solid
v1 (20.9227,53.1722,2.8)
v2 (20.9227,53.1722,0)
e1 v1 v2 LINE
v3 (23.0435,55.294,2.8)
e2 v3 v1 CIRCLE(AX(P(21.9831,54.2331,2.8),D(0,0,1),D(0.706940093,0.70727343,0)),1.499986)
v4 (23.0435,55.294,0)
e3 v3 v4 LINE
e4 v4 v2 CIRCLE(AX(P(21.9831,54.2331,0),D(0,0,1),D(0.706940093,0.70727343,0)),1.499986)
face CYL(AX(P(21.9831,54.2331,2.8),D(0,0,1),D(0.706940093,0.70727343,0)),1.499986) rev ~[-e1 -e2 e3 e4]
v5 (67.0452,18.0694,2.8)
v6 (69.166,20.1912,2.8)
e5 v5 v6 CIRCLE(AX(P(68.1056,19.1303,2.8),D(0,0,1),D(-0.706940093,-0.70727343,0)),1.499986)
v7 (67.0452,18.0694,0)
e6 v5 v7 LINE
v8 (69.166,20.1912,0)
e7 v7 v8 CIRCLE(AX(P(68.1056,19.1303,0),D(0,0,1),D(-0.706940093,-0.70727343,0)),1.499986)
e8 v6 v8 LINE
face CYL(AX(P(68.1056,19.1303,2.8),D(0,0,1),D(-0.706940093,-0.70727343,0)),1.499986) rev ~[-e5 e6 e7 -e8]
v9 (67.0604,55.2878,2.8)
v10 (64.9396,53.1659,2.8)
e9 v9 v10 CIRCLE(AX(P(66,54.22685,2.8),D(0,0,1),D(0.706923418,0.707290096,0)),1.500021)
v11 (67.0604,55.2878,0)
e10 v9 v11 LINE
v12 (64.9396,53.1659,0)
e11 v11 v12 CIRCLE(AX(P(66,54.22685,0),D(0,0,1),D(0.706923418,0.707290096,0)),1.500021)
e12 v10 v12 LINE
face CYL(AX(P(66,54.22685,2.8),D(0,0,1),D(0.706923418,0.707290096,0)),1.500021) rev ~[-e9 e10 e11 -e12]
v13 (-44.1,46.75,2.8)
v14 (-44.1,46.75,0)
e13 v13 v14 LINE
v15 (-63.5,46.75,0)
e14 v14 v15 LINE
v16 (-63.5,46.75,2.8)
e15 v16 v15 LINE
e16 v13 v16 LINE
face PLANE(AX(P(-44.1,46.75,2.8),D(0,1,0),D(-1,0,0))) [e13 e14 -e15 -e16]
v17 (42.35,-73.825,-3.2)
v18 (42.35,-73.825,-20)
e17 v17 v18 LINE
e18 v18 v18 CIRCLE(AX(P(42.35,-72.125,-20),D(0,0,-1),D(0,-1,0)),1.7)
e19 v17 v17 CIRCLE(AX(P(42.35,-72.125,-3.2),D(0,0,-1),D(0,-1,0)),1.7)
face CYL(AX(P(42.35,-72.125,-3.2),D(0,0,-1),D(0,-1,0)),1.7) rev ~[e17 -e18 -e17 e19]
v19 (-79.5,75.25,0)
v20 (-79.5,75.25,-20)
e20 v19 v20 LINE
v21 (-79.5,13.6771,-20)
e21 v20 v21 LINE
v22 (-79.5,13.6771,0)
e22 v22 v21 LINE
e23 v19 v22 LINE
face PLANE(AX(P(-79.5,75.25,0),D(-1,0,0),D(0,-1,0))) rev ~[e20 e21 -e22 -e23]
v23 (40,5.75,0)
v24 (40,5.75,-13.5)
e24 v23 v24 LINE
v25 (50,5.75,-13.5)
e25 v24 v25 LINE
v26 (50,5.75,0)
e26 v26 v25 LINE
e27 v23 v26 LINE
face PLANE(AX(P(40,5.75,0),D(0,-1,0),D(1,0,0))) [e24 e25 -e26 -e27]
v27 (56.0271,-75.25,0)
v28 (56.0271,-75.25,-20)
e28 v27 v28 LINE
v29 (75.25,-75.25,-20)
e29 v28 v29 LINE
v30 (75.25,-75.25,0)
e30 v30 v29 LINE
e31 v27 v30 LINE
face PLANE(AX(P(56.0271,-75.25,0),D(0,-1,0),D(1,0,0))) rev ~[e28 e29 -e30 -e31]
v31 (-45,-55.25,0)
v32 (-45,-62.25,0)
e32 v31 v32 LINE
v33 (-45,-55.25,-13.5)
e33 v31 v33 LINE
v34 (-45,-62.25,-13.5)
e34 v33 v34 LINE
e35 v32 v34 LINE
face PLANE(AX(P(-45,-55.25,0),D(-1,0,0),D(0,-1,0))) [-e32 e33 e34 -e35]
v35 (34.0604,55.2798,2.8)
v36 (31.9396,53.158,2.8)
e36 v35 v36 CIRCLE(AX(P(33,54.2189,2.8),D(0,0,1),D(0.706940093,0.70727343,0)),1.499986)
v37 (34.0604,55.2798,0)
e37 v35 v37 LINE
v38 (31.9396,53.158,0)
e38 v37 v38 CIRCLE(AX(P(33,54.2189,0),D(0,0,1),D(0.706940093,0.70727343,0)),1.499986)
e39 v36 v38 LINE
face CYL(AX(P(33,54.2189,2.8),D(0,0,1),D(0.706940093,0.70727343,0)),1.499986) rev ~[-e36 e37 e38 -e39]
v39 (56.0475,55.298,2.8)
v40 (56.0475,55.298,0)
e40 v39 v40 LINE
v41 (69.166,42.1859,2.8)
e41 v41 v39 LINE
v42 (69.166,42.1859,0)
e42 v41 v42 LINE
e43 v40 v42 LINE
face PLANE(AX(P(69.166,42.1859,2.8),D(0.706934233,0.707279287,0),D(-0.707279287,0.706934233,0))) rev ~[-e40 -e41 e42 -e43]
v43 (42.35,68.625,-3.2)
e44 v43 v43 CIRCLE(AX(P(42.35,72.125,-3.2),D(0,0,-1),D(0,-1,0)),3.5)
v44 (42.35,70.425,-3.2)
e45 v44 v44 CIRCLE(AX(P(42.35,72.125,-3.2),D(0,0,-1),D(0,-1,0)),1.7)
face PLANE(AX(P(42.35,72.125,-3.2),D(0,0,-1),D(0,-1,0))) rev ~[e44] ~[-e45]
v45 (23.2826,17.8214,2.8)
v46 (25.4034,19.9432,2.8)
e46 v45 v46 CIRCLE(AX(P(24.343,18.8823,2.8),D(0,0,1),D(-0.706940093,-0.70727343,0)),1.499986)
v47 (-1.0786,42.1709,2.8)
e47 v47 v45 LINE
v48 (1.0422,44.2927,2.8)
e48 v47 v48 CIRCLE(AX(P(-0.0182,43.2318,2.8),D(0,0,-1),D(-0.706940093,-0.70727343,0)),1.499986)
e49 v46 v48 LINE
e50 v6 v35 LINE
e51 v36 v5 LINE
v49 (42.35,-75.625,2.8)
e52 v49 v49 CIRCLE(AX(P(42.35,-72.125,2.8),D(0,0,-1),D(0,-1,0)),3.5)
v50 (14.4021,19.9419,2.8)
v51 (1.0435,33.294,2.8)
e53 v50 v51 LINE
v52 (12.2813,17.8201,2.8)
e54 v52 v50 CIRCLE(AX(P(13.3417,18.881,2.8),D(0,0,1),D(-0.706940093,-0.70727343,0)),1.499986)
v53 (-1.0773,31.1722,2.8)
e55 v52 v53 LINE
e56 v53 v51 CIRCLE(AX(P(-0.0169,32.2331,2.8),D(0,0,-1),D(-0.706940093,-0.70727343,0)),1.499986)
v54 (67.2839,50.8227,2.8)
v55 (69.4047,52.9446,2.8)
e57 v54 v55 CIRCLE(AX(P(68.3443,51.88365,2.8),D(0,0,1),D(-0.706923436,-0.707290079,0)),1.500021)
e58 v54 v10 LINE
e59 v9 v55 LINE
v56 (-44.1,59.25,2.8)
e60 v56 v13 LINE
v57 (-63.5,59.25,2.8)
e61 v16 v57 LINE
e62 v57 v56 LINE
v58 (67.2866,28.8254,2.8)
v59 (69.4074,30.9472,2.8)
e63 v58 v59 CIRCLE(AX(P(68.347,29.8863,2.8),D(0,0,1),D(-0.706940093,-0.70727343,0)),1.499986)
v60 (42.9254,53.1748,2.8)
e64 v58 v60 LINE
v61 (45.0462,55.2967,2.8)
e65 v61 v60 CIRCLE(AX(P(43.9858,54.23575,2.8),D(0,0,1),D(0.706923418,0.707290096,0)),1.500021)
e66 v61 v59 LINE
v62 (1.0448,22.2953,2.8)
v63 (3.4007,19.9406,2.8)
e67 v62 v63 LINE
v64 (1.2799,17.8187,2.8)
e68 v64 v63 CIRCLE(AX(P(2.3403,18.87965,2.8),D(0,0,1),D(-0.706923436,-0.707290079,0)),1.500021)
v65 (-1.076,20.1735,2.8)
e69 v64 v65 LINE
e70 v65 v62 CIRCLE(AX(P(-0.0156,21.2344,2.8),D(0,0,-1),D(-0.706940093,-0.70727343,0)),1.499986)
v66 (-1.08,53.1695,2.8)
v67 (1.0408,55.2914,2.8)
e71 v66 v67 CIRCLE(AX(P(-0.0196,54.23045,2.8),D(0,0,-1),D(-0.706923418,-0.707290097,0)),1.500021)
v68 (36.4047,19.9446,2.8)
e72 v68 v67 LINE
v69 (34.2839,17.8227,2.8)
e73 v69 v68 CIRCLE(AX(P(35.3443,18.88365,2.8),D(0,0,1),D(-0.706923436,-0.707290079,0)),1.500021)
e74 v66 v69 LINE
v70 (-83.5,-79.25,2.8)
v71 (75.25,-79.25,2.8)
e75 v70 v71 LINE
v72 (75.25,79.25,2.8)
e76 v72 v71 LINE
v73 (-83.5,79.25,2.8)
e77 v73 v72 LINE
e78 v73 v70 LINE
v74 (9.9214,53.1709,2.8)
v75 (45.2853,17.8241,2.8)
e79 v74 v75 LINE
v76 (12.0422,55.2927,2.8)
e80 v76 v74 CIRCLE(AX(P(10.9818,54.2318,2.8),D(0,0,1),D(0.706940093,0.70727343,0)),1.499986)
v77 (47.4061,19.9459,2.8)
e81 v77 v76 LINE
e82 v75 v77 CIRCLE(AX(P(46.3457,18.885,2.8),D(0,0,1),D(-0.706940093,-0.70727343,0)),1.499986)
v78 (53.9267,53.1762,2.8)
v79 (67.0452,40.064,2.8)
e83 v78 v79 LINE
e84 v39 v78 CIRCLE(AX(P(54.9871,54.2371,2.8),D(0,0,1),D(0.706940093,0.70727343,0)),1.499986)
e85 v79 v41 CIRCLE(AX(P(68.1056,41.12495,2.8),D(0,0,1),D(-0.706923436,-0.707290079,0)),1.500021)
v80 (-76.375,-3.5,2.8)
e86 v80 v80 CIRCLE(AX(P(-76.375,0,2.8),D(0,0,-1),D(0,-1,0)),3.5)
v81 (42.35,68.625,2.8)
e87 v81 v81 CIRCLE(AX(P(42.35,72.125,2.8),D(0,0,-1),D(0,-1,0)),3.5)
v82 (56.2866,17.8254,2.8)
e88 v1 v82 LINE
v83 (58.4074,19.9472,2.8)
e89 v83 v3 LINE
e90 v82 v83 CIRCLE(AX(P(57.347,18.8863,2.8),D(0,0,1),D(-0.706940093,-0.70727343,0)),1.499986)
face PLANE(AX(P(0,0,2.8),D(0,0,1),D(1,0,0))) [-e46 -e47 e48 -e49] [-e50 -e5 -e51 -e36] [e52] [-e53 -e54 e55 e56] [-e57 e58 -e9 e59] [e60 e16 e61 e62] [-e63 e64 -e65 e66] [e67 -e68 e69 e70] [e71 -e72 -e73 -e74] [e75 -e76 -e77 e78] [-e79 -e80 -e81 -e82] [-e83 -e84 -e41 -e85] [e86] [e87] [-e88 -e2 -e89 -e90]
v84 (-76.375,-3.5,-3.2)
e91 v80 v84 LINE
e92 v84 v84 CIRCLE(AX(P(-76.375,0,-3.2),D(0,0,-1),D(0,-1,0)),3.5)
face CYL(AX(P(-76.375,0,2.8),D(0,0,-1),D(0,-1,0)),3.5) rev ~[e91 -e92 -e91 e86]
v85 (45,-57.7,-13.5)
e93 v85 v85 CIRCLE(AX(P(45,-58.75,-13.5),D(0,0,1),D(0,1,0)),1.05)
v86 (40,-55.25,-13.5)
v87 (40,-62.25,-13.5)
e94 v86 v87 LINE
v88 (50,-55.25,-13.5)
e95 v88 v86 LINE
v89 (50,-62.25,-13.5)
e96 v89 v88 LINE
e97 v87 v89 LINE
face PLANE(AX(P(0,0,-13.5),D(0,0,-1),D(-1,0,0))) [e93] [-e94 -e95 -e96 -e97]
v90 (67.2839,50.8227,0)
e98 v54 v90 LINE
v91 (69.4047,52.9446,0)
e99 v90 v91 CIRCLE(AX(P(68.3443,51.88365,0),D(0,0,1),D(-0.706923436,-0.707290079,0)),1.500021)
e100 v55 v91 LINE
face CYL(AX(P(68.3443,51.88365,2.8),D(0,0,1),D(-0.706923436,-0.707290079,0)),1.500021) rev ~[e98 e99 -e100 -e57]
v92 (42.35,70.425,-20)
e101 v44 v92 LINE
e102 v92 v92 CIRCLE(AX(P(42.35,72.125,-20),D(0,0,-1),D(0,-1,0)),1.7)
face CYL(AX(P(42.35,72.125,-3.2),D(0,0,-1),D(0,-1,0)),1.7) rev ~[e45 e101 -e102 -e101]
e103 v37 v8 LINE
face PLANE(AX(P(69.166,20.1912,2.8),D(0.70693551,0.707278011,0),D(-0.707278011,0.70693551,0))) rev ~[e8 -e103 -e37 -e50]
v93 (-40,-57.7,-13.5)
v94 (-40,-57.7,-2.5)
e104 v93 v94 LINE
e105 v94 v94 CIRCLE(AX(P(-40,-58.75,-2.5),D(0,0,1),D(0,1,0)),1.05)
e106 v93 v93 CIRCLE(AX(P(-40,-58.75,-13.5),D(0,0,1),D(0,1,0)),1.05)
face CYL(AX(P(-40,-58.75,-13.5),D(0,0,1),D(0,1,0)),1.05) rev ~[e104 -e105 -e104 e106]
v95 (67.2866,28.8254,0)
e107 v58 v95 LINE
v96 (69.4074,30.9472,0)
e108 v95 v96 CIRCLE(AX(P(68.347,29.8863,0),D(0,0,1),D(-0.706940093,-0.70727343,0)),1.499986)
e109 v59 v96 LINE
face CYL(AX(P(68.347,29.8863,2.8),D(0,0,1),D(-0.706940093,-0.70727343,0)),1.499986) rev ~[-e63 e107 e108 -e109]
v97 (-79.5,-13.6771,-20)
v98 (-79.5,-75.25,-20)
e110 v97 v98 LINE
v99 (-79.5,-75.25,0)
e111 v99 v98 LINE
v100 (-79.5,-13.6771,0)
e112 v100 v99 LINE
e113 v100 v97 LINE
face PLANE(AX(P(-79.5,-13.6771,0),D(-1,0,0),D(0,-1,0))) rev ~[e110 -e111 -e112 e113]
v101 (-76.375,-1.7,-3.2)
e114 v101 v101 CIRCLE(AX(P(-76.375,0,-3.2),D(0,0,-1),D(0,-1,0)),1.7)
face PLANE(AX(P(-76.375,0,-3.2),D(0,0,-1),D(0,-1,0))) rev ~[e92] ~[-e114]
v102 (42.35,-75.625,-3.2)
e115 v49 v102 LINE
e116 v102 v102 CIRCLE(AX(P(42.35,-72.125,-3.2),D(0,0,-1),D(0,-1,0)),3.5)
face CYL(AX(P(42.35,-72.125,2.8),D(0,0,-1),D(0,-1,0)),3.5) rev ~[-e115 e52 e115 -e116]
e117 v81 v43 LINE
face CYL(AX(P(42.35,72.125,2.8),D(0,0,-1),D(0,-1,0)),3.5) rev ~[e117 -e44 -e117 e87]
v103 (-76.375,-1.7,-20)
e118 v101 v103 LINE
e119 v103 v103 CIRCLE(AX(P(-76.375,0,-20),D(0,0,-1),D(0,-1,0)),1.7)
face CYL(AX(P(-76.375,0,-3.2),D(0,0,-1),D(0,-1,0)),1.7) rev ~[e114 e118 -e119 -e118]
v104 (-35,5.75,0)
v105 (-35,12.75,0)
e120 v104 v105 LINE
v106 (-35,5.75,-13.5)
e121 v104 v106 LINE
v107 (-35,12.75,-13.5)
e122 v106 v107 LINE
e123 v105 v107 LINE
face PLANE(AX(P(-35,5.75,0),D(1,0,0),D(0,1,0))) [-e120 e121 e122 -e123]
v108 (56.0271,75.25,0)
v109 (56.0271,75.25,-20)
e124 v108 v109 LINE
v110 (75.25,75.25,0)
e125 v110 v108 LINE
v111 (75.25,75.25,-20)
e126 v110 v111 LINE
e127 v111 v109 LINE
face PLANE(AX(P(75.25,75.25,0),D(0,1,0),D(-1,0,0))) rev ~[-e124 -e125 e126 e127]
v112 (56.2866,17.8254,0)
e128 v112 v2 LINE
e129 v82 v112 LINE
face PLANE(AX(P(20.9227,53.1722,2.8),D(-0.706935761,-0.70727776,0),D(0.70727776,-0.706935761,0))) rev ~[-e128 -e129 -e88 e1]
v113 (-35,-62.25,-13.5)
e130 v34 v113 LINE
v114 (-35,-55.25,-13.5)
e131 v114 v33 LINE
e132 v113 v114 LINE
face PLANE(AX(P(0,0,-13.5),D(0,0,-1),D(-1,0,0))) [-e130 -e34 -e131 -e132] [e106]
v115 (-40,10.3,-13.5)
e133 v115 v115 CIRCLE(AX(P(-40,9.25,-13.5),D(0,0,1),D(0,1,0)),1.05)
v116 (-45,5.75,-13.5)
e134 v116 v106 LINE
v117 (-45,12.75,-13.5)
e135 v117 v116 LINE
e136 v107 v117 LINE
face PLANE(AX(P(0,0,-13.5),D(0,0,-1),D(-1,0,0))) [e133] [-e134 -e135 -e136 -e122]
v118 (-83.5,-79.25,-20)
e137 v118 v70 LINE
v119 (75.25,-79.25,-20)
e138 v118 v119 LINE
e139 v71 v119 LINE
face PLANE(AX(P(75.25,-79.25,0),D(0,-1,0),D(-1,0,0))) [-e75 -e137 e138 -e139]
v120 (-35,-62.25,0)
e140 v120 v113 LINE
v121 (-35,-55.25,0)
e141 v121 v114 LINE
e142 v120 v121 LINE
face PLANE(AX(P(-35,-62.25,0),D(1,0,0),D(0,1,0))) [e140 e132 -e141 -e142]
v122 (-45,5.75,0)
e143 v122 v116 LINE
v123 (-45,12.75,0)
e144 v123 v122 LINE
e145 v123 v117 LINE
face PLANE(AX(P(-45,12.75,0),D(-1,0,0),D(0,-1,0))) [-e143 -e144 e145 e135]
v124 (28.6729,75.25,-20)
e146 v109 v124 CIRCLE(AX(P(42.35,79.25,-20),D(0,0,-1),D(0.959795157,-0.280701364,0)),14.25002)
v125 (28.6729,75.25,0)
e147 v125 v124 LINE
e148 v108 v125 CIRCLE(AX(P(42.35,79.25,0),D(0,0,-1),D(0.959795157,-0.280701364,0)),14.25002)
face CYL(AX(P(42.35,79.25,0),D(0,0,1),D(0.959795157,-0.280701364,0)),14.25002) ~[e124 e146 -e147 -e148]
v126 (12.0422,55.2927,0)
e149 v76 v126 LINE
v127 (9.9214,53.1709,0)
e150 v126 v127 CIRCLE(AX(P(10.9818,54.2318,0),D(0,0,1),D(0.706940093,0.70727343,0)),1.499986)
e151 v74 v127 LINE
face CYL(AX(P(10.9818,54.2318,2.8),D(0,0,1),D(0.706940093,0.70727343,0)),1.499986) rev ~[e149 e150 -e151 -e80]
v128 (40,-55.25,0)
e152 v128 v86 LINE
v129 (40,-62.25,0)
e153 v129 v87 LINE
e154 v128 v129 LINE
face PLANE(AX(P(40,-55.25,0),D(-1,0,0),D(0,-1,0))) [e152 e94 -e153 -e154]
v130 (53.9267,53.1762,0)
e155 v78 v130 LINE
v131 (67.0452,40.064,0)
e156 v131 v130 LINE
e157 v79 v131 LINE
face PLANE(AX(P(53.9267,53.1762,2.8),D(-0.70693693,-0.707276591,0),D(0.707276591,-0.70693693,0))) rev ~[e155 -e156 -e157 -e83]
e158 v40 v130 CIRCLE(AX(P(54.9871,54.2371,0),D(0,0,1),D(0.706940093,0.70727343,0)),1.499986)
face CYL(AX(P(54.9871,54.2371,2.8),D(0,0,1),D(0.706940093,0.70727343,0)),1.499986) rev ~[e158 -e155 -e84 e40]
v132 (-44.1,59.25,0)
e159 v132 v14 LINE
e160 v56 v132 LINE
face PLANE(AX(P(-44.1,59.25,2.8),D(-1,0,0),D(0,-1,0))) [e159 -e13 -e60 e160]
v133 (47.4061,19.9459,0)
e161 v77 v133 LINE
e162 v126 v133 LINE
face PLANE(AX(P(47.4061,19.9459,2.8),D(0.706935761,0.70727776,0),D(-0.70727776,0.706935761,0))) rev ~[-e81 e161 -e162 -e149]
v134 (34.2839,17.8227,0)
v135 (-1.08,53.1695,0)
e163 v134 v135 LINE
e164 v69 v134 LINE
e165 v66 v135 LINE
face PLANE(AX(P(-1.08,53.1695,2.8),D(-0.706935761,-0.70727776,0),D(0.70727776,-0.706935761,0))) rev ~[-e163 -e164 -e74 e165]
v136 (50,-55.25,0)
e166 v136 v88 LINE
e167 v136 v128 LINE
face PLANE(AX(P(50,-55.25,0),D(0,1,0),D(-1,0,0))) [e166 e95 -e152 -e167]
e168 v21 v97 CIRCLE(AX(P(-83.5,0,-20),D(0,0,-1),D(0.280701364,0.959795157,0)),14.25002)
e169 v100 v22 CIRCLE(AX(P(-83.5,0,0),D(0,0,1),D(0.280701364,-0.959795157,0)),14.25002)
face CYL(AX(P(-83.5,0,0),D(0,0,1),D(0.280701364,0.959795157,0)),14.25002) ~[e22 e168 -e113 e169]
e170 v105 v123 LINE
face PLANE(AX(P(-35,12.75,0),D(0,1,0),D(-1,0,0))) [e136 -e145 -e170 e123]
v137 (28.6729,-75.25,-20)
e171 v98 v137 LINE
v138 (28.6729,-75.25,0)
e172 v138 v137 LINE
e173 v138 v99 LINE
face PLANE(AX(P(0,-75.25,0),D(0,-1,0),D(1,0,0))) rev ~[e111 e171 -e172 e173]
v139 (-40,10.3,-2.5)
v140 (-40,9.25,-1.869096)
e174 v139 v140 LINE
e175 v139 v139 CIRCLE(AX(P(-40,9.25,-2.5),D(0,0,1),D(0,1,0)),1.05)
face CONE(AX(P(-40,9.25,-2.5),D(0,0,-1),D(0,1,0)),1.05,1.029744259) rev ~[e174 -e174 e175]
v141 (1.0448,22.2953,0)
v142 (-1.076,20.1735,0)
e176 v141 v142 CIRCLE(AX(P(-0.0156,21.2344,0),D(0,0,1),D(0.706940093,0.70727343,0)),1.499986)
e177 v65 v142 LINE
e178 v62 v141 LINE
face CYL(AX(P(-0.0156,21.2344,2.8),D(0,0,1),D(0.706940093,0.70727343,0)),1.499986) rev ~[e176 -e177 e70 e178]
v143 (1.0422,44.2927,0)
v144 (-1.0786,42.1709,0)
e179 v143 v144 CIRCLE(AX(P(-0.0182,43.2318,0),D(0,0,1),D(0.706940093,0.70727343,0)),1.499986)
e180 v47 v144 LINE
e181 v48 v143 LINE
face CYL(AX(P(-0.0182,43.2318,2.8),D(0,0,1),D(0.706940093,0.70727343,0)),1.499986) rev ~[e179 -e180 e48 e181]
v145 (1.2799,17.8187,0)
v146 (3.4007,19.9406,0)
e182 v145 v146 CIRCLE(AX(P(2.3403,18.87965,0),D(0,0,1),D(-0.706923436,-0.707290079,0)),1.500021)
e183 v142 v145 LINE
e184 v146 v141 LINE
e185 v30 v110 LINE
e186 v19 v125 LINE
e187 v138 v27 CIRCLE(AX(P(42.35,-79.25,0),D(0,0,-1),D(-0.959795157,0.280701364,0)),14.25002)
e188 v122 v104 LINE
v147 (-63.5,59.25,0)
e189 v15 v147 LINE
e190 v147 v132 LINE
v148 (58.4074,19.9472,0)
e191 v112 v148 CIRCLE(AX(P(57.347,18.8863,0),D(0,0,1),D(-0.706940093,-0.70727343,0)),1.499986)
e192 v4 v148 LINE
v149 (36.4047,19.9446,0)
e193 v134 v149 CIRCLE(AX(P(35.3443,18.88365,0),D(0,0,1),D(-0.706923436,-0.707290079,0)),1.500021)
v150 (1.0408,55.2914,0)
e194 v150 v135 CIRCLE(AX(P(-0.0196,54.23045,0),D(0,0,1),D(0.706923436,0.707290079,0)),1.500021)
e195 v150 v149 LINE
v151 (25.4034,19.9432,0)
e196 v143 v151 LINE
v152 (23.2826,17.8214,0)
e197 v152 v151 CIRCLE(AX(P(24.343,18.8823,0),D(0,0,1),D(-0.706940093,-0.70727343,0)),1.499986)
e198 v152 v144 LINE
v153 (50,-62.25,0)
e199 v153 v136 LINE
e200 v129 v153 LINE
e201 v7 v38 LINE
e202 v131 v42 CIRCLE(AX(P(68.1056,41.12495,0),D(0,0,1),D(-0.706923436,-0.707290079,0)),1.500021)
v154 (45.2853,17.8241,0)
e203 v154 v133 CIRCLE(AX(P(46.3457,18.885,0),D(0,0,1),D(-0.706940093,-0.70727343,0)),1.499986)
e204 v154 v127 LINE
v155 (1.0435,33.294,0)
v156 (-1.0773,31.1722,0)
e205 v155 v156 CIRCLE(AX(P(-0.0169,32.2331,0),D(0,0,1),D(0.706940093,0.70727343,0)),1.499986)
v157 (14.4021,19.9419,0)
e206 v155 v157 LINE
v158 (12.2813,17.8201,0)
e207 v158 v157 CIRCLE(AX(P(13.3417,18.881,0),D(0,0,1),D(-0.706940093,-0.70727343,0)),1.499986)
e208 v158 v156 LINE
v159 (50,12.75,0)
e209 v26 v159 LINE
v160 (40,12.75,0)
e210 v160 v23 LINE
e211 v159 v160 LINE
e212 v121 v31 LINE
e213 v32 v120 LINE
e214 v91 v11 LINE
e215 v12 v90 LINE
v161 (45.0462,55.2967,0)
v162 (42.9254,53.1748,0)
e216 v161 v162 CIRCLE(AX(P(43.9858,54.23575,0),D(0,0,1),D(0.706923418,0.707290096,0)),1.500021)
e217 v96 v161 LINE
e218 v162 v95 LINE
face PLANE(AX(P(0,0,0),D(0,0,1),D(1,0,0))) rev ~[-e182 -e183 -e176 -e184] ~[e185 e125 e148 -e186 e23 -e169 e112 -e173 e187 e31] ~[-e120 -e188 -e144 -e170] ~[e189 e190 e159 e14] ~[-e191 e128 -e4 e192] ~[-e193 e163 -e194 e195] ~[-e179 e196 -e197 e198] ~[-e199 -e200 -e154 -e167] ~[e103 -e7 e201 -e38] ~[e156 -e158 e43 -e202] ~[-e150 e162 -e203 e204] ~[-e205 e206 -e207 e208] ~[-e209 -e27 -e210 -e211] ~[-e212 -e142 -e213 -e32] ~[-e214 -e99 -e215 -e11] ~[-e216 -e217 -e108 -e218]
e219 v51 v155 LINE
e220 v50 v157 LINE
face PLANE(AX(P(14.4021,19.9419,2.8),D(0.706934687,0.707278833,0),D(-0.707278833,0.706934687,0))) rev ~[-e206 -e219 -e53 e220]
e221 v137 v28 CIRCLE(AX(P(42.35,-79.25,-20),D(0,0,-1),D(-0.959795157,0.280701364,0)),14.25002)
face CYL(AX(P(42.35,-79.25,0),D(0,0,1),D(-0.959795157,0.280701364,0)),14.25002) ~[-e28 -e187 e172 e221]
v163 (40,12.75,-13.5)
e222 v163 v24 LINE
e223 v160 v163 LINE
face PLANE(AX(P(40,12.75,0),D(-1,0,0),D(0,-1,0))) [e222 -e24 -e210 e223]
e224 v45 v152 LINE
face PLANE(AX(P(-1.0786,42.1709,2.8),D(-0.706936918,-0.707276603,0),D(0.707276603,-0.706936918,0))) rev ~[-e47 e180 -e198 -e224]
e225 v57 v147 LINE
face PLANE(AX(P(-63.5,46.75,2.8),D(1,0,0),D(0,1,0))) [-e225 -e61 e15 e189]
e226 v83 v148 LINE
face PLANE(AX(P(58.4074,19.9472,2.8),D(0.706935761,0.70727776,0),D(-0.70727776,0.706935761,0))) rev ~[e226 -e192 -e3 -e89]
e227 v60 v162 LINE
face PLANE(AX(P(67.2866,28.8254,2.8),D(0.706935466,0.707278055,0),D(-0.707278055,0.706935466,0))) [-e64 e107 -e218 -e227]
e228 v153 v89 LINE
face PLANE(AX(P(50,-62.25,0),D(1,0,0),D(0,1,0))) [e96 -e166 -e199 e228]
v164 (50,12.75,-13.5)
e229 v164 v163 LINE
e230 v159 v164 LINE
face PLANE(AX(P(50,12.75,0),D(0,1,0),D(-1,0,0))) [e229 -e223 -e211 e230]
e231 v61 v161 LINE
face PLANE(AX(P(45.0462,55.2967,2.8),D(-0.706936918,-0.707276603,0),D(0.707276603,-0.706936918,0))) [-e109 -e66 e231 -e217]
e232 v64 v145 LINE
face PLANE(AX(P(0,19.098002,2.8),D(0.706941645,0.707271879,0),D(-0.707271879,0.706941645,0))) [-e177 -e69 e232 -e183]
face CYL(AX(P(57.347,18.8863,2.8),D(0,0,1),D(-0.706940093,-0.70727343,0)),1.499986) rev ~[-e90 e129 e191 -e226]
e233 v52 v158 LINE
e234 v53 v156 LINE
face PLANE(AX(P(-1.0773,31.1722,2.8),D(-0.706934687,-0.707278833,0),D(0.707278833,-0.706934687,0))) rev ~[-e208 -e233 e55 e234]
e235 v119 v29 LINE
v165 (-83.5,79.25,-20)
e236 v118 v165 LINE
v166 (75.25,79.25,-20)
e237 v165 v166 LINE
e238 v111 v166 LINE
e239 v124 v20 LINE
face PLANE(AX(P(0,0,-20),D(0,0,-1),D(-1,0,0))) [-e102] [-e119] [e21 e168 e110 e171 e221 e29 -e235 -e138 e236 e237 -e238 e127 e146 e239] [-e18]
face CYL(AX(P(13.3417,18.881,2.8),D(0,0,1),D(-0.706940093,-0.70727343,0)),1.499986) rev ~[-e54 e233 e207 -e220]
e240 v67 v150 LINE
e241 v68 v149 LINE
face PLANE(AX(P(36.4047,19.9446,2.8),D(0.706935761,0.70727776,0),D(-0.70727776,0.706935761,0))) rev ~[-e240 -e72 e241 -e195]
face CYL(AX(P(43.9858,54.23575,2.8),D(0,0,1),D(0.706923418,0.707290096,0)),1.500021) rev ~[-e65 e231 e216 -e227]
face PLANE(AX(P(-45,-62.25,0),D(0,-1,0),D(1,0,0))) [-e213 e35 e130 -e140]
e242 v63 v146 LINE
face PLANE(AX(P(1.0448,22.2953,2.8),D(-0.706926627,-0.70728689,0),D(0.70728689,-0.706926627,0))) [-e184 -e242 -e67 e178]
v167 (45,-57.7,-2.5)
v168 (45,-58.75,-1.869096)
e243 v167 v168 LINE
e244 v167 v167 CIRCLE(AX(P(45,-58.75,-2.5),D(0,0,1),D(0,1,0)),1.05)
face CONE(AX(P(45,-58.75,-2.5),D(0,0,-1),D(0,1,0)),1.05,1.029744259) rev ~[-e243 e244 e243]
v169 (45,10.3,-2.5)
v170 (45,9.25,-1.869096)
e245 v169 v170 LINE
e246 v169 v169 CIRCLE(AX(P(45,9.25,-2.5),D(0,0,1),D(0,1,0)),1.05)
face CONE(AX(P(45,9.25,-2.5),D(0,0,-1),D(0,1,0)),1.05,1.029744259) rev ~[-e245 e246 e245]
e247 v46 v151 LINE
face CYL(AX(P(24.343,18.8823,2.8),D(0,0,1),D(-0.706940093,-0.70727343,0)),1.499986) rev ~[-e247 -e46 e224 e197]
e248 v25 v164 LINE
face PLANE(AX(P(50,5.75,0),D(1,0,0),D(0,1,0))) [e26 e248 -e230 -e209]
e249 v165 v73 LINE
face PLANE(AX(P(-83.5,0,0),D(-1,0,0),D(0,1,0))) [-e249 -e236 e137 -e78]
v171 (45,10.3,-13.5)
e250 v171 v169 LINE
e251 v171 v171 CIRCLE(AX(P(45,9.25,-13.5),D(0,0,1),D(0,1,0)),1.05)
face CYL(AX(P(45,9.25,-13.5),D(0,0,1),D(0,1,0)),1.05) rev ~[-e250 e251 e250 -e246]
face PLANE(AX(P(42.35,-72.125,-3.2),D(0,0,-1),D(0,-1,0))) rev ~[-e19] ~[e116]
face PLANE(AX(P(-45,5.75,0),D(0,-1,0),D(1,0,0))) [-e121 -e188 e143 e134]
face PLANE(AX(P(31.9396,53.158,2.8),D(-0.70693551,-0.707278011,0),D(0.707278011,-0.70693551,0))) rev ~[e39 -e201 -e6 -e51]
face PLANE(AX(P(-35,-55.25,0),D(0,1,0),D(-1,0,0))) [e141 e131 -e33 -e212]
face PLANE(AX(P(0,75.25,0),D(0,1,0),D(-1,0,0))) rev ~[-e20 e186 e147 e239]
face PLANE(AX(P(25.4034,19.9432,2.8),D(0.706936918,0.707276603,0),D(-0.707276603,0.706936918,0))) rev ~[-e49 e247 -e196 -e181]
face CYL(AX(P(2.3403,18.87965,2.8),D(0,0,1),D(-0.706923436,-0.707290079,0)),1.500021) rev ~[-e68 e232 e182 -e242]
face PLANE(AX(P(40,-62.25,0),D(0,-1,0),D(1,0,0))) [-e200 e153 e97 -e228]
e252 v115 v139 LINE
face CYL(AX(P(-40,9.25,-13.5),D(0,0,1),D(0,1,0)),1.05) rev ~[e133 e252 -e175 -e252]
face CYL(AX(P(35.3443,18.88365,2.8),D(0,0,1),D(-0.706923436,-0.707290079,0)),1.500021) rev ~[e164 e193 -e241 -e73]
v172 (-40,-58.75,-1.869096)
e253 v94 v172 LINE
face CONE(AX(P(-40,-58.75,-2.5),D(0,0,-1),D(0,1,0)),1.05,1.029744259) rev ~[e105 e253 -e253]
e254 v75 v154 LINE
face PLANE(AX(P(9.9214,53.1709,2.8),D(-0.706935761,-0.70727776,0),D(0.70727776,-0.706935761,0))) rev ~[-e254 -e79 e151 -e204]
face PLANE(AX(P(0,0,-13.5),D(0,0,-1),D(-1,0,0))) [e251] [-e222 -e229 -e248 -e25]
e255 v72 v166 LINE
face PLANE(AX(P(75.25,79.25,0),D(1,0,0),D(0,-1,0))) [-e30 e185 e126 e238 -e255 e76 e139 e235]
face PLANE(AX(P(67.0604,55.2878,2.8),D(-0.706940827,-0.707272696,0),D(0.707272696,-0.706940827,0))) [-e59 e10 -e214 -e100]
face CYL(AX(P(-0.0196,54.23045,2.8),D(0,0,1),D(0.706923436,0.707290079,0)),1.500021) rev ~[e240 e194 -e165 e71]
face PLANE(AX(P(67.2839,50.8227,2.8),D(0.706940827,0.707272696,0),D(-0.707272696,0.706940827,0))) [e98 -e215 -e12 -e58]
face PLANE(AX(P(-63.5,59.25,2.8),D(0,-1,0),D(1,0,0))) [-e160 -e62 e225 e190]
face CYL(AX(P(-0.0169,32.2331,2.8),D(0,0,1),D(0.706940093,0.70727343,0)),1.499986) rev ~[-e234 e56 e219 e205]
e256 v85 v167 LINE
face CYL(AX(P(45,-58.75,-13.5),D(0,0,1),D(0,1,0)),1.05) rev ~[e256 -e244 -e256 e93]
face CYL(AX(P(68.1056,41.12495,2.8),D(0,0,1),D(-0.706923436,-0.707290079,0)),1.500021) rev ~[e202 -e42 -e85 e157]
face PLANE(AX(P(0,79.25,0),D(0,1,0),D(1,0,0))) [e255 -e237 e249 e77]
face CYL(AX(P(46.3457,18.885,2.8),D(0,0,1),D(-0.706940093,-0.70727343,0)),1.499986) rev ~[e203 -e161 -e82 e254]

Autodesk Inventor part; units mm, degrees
ref_plane "YZ Plane" through (0, 0, 0) normal (1, 0, 0) x (0, 1, 0)
ref_plane "XZ Plane" through (0, 0, 0) normal (0, 1, 0) x (-1, 0, 0)
ref_plane "XY Plane" through (0, 0, 0) normal (0, 0, 1) x (1, 0, 0)
sketch "Náčrt1" plane through (0, 0, 0) normal (0, 0, 1) x (1, 0, 0)
  line L0 (0, 110.95) -> (0, -110.95) projected
  line L1 (-115.25, 0) -> (107, 0) projected
  line L2 (-83.5, 79.25) -> (75.25, 79.25)
  line L3 (75.25, 79.25) -> (75.25, -79.25)
  line L4 (75.25, -79.25) -> (-83.5, -79.25)
  line L5 (-83.5, -79.25) -> (-83.5, 79.25)
  point P0 (0, 0)
  dimension "d0" = 158.75
  dimension "d1" = 158.5
  dimension "d2" = 83.5
extrude "Vysunutí1" add sketch "Náčrt1" along normal blind 2.8
sketch "Náčrt2" plane through (0, 0, 0) normal (0, 0, -1) x (-1, 0, 0)
  line L0 (0, -110.95) -> (0, 110.95) projected
  line L1 (-107.3, 0) -> (115.3, 0) projected
  line L2 (83.5, -79.25) -> (-75.25, -79.25) projected
  line L3 (83.5, 79.25) -> (83.5, -79.25) projected
  line L4 (-75.25, 79.25) -> (83.5, 79.25) projected
  line L5 (-75.25, -79.25) -> (-75.25, 79.25) projected
  line L6 (-75.25, 75.25) -> (79.5, 75.25)
  line L7 (79.5, 75.25) -> (79.5, -75.25)
  line L8 (79.5, -75.25) -> (-75.25, -75.25)
  line L9 (-75.25, -75.25) -> (-75.25, 75.25)
  line L10 (83.5, -79.25) -> (-75.25, -79.25) projected
  line L11 (-75.25, 79.25) -> (83.5, 79.25)
  line L12 (83.5, 79.25) -> (83.5, -79.25)
  line L13 (83.5, -79.25) -> (-75.25, -79.25)
  line L14 (-75.25, -79.25) -> (-75.25, 79.25)
  line L15 (83.5, 79.25) -> (83.5, -79.25) projected
  arc A0 (79.5, 13.6771) -> (79.5, -13.6771) centre (83.5, 0) ccw
  line L16 (-75.25, 79.25) -> (83.5, 79.25) projected
  arc A1 (-56.0271, 75.25) -> (-28.6729, 75.25) centre (-42.35, 79.25) ccw
  arc A2 (-28.6729, -75.25) -> (-56.0271, -75.25) centre (-42.35, -79.25) ccw
  point P0 (0, 0)
  dimension "d5" = 4
  dimension "d6" = 4
  dimension "d7" = 4
  dimension "d8" = 28.5
  dimension "d9" = 28.5
  dimension "d10" = 28.5
  dimension "d11" = 42.35
  dimension "d12" = 42.35
extrude "Vysunutí2" add sketch "Náčrt2" along normal blind 20 contours L2 L5 L8 L0 | L0 L8 L7 L1 L3 L2 | L8 A2 | L1 L7 L6 L0 L4 L3 | L6 L5 L4 L0 | A0 L7 L1 | L1 L7 A0 | A1 L6
sketch "Náčrt3" plane through (0, 0, 2.8) normal (0, 0, 1) x (1, 0, 0)
  line L0 (-83.5, -79.25) -> (75.25, -79.25) projected
  line L1 (75.25, -79.25) -> (75.25, 79.25) projected
  line L2 (75.25, 79.25) -> (-83.5, 79.25) projected
  line L3 (-83.5, 79.25) -> (-83.5, -79.25) projected
  line L4 (-115.3, 0) -> (107.3, 0) projected
  line L5 (0, 110.95) -> (0, -110.95) projected
  arc A0 (23.2826, 17.8214) -> (25.4034, 19.9432) centre (24.343, 18.8823) ccw
  line L6 (-1.08, 53.1695) -> (34.2839, 17.8227)
  line L7 (36.4053, 17.8233) -> (-1.0805, 55.2908) construction
  line L8 (36.4047, 19.9446) -> (1.0408, 55.2914)
  arc A1 (34.2839, 17.8227) -> (36.4047, 19.9446) centre (35.3443, 18.8837) ccw
  arc A2 (45.2853, 17.8241) -> (47.4061, 19.9459) centre (46.3457, 18.885) ccw
  line L9 (20.9227, 53.1722) -> (56.2866, 17.8254)
  line L10 (58.4074, 19.9472) -> (23.0435, 55.294)
  line L11 (58.4079, 17.8259) -> (20.9222, 55.2935) construction
  line L12 (31.9396, 53.158) -> (67.0452, 18.0694)
  line L13 (69.166, 20.1912) -> (34.0604, 55.2798)
  line L14 (69.1665, 18.0699) -> (31.9227, 55.2956) construction
  arc A3 (56.2866, 17.8254) -> (58.4074, 19.9472) centre (57.347, 18.8863) ccw
  arc A4 (67.0452, 18.0694) -> (69.166, 20.1912) centre (68.1056, 19.1303) ccw
  line L15 (47.4066, 17.8246) -> (9.9209, 55.2922) construction
  line L16 (9.9214, 53.1709) -> (45.2853, 17.8241)
  arc A5 (12.0422, 55.2927) -> (9.9214, 53.1709) centre (10.9818, 54.2318) ccw
  line L17 (47.4061, 19.9459) -> (12.0422, 55.2927)
  line L18 (53.9267, 53.1762) -> (67.0452, 40.064)
  line L19 (67.2866, 28.8254) -> (42.9254, 53.1748)
  line L20 (69.4079, 28.8259) -> (42.9248, 55.2962) construction
  line L21 (45.0462, 55.2967) -> (69.4074, 30.9472)
  line L22 (69.166, 42.1859) -> (56.0475, 55.298)
  arc A6 (67.2866, 28.8254) -> (69.4074, 30.9472) centre (68.347, 29.8863) ccw
  arc A7 (1.0408, 55.2914) -> (-1.08, 53.1695) centre (-0.0196, 54.2304) ccw
  arc A8 (23.0435, 55.294) -> (20.9227, 53.1722) centre (21.9831, 54.2331) ccw
  line L23 (25.4034, 19.9432) -> (1.0422, 44.2927)
  line L24 (25.4039, 17.8219) -> (-1.0791, 44.2922) construction
  line L25 (-1.0786, 42.1709) -> (23.2826, 17.8214)
  arc A9 (1.0422, 44.2927) -> (-1.0786, 42.1709) centre (-0.0182, 43.2318) ccw
  line L26 (67.2839, 50.8227) -> (64.9396, 53.1659)
  line L27 (67.0604, 55.2878) -> (69.4047, 52.9446)
  line L28 (69.4053, 50.8233) -> (64.9227, 55.3036) construction
  line L29 (69.1665, 40.0645) -> (53.9262, 55.2975) construction
  arc A10 (56.0475, 55.298) -> (53.9267, 53.1762) centre (54.9871, 54.2371) ccw
  arc A11 (12.2813, 17.8201) -> (14.4021, 19.9419) centre (13.3417, 18.881) ccw
  line L30 (14.4021, 19.9419) -> (1.0435, 33.294)
  line L31 (14.4026, 17.8206) -> (-1.0778, 33.2935) construction
  line L32 (-1.0773, 31.1722) -> (12.2813, 17.8201)
  arc A12 (1.0435, 33.294) -> (-1.0773, 31.1722) centre (-0.0169, 32.2331) ccw
  arc A13 (67.2839, 50.8227) -> (69.4047, 52.9446) centre (68.3443, 51.8837) ccw
  arc A14 (45.0462, 55.2967) -> (42.9254, 53.1748) centre (43.9858, 54.2358) ccw
  arc A15 (67.0452, 40.064) -> (69.166, 42.1859) centre (68.1056, 41.125) ccw
  line L33 (1.0448, 22.2953) -> (3.4007, 19.9406)
  arc A16 (1.2799, 17.8187) -> (3.4007, 19.9406) centre (2.3403, 18.8797) ccw
  arc A17 (1.0448, 22.2953) -> (-1.076, 20.1735) centre (-0.0156, 21.2344) ccw
  line L34 (3.4013, 17.8193) -> (-1.0765, 22.2948) construction
  line L35 (1.2799, 17.8187) -> (-1.076, 20.1735)
  arc A18 (34.0604, 55.2798) -> (31.9396, 53.158) centre (33, 54.2189) ccw
  arc A19 (67.0604, 55.2878) -> (64.9396, 53.1659) centre (66, 54.2269) ccw
  point P0 (0, 0)
  dimension "d48" = 3
  dimension "d49" = 3
  dimension "d50" = 3
  dimension "d51" = 3
  dimension "d53" = 3
  dimension "d54" = 3
  dimension "d55" = 3
  dimension "d56" = 3
  dimension "d57" = 3
  dimension "d101" = 23.3345
  dimension "d102" = 31.1127
  dimension "d103" = 38.8909
  dimension "d104" = 46.669
  dimension "d105" = 54.4472
  dimension "d106" = 62.2254
  dimension "d107" = 70.0036
  dimension "d108" = 15.5564
  dimension "d109" = 7.7782
  dimension "d110" = 10.657
  dimension "d131" = 33
  dimension "d132" = 1.5
  dimension "d133" = 66
  dimension "d134" = 1.5
  dimension "d139" = 135.014
  dimension "d140" = 18.5563
  dimension "d141" = 31.1127
  dimension "d142" = 9.157
  dimension "d143" = 1.3789
  dimension "d144" = 50.4241
  dimension "d145" = 28.4267
  dimension "d146" = 39.1855
  dimension "d147" = 23.9464
  dimension "d148" = 61.4254
  dimension "d149" = 61.4267
  dimension "d150" = 23.9544
  dimension "d151" = 61.4281
  dimension "d152" = 61.4294
  dimension "d153" = 23.9573
  dimension "d154" = 61.4307
  dimension "d155" = 56.9547
  dimension "d156" = 45.956
  dimension "d157" = 34.9573
  dimension "d158" = 23.9586
extrude "Vysunutí3" cut sketch "Náčrt3" against normal up to next contours L35 A17 L5 | L5 A17 L33 A16 L35 | A7 L8 A1 L6 L5 | L5 L6 A7 | L32 A12 L5 | L5 A12 L30 A11 L32 | A9 L23 A0 L25 L5 | L5 L25 A9 | L16 A5 L17 A2 | A8 L10 A3 L9 | A18 L13 A4 L12 | A10 L22 A15 L18 | L19 A14 L21 A6 | L26 A19 L27 A13
sketch "Náčrt4" plane through (0, 0, 2.8) normal (0, 0, 1) x (1, 0, 0)
  arc A0 (23.0435, 55.294) -> (20.9227, 53.1722) centre (21.9831, 54.2331) ccw projected
  line L0 (23.0435, 55.294) -> (58.4074, 19.9472) projected
  arc A1 (56.2866, 17.8254) -> (58.4074, 19.9472) centre (57.347, 18.8863) ccw projected
  line L1 (56.2866, 17.8254) -> (20.9227, 53.1722) projected
  arc A2 (67.2839, 50.8227) -> (69.4047, 52.9446) centre (68.3443, 51.8837) ccw projected
  line L2 (67.2839, 50.8227) -> (64.9396, 53.1659) projected
  arc A3 (67.0604, 55.2878) -> (64.9396, 53.1659) centre (66, 54.2269) ccw projected
  line L3 (67.0604, 55.2878) -> (69.4047, 52.9446) projected
  line L4 (1.2799, 17.8187) -> (-1.076, 20.1735) projected
  arc A4 (1.0448, 22.2953) -> (-1.076, 20.1735) centre (-0.0156, 21.2344) ccw projected
  line L5 (1.0448, 22.2953) -> (3.4007, 19.9406) projected
  arc A5 (1.2799, 17.8187) -> (3.4007, 19.9406) centre (2.3403, 18.8797) ccw projected
  arc A6 (56.0475, 55.298) -> (53.9267, 53.1762) centre (54.9871, 54.2371) ccw projected
  line L6 (56.0475, 55.298) -> (69.166, 42.1859) projected
  arc A7 (67.0452, 40.064) -> (69.166, 42.1859) centre (68.1056, 41.125) ccw projected
  line L7 (67.0452, 40.064) -> (53.9267, 53.1762) projected
  arc A8 (12.0422, 55.2927) -> (9.9214, 53.1709) centre (10.9818, 54.2318) ccw projected
  line L8 (12.0422, 55.2927) -> (47.4061, 19.9459) projected
  arc A9 (45.2853, 17.8241) -> (47.4061, 19.9459) centre (46.3457, 18.885) ccw projected
  line L9 (45.2853, 17.8241) -> (9.9214, 53.1709) projected
  arc A10 (34.0604, 55.2798) -> (31.9396, 53.158) centre (33, 54.2189) ccw projected
  line L10 (34.0604, 55.2798) -> (69.166, 20.1912) projected
  arc A11 (67.0452, 18.0694) -> (69.166, 20.1912) centre (68.1056, 19.1303) ccw projected
  line L11 (67.0452, 18.0694) -> (31.9396, 53.158) projected
  line L12 (23.2826, 17.8214) -> (-1.0786, 42.1709) projected
  arc A12 (1.0422, 44.2927) -> (-1.0786, 42.1709) centre (-0.0182, 43.2318) ccw projected
  line L13 (1.0422, 44.2927) -> (25.4034, 19.9432) projected
  arc A13 (23.2826, 17.8214) -> (25.4034, 19.9432) centre (24.343, 18.8823) ccw projected
  line L14 (12.2813, 17.8201) -> (-1.0773, 31.1722) projected
  arc A14 (1.0435, 33.294) -> (-1.0773, 31.1722) centre (-0.0169, 32.2331) ccw projected
  line L15 (1.0435, 33.294) -> (14.4021, 19.9419) projected
  arc A15 (12.2813, 17.8201) -> (14.4021, 19.9419) centre (13.3417, 18.881) ccw projected
  arc A16 (67.2866, 28.8254) -> (69.4074, 30.9472) centre (68.347, 29.8863) ccw projected
  line L16 (67.2866, 28.8254) -> (42.9254, 53.1748) projected
  arc A17 (45.0462, 55.2967) -> (42.9254, 53.1748) centre (43.9858, 54.2358) ccw projected
  line L17 (45.0462, 55.2967) -> (69.4074, 30.9472) projected
  line L18 (34.2839, 17.8227) -> (-1.08, 53.1695) projected
  arc A18 (1.0408, 55.2914) -> (-1.08, 53.1695) centre (-0.0196, 54.2304) ccw projected
  line L19 (1.0408, 55.2914) -> (36.4047, 19.9446) projected
  arc A19 (34.2839, 17.8227) -> (36.4047, 19.9446) centre (35.3443, 18.8837) ccw projected
  line L20 (-83.5, -79.25) -> (75.25, -79.25) projected
  line L21 (75.25, -79.25) -> (75.25, 79.25) projected
  line L22 (75.25, 79.25) -> (-83.5, 79.25) projected
  line L23 (-83.5, 79.25) -> (-83.5, -79.25) projected
  line L24 (0, 110.95) -> (0, -110.95) projected
  line L25 (-115.25, 0) -> (107, 0) projected
  arc A20 (28.6729, 75.25) -> (56.0271, 75.25) centre (42.35, 79.25) ccw projected
  arc A21 (-79.5, -13.6771) -> (-79.5, 13.6771) centre (-83.5, 0) ccw projected
  arc A22 (56.0271, -75.25) -> (28.6729, -75.25) centre (42.35, -79.25) ccw projected
  point P0 (0, 0)
  point P1 (42.35, 72.125)
  point P2 (-76.375, 0)
  point P3 (42.35, -72.125)
  dimension "d159" = 7.125
  dimension "d160" = 42.35
  dimension "d161" = 7.125
  dimension "d162" = 42.35
  dimension "d163" = 7.125
hole "Díra1" at (42.35, 72.125, 2.8) at (-76.375, 0, 2.8) at (42.35, -72.125, 2.8) direction (0, 0, -1) diameter 7 depth 6
sketch "Náčrt5" plane through (42.35, 72.125, -3.2) normal (0, 0, 1) x (1, 0, 0)
  circle A0 centre (0, 0) radius 3.5 projected
  circle A1 centre (-118.725, -72.125) radius 3.5 projected
  circle A2 centre (0, -144.25) radius 3.5 projected
  circle A3 centre (0, 0) radius 3.5 projected
  circle A4 centre (0, -144.25) radius 3.5 projected
  point P0 (-42.35, -72.125)
hole "Díra2" at (-76.375, 0, -3.2) at (42.35, 72.125, -3.2) at (42.35, -72.125, -3.2) direction (0, 0, -1) diameter 3.4 depth 16.8
sketch "Náčrt6" plane through (0, 0, 2.8) normal (0, 0, 1) x (1, 0, 0)
  line L0 (0, 110.95) -> (0, -110.95) projected
  line L1 (-115.25, 0) -> (107, 0) projected
  circle A0 centre (-76.375, 0) radius 3.5 projected
  circle A1 centre (42.35, 72.125) radius 3.5 projected
  circle A2 centre (42.35, -72.125) radius 3.5 projected
  arc A3 (23.0435, 55.294) -> (20.9227, 53.1722) centre (21.9831, 54.2331) ccw projected
  line L2 (23.0435, 55.294) -> (58.4074, 19.9472) projected
  arc A4 (56.2866, 17.8254) -> (58.4074, 19.9472) centre (57.347, 18.8863) ccw projected
  line L3 (56.2866, 17.8254) -> (20.9227, 53.1722) projected
  arc A5 (67.2839, 50.8227) -> (69.4047, 52.9446) centre (68.3443, 51.8837) ccw projected
  line L4 (67.2839, 50.8227) -> (64.9396, 53.1659) projected
  arc A6 (67.0604, 55.2878) -> (64.9396, 53.1659) centre (66, 54.2269) ccw projected
  line L5 (67.0604, 55.2878) -> (69.4047, 52.9446) projected
  line L6 (1.2799, 17.8187) -> (-1.076, 20.1735) projected
  arc A7 (1.0448, 22.2953) -> (-1.076, 20.1735) centre (-0.0156, 21.2344) ccw projected
  line L7 (1.0448, 22.2953) -> (3.4007, 19.9406) projected
  arc A8 (1.2799, 17.8187) -> (3.4007, 19.9406) centre (2.3403, 18.8797) ccw projected
  arc A9 (56.0475, 55.298) -> (53.9267, 53.1762) centre (54.9871, 54.2371) ccw projected
  line L8 (56.0475, 55.298) -> (69.166, 42.1859) projected
  arc A10 (67.0452, 40.064) -> (69.166, 42.1859) centre (68.1056, 41.125) ccw projected
  line L9 (67.0452, 40.064) -> (53.9267, 53.1762) projected
  arc A11 (12.0422, 55.2927) -> (9.9214, 53.1709) centre (10.9818, 54.2318) ccw projected
  line L10 (12.0422, 55.2927) -> (47.4061, 19.9459) projected
  arc A12 (45.2853, 17.8241) -> (47.4061, 19.9459) centre (46.3457, 18.885) ccw projected
  line L11 (45.2853, 17.8241) -> (9.9214, 53.1709) projected
  arc A13 (34.0604, 55.2798) -> (31.9396, 53.158) centre (33, 54.2189) ccw projected
  line L12 (34.0604, 55.2798) -> (69.166, 20.1912) projected
  arc A14 (67.0452, 18.0694) -> (69.166, 20.1912) centre (68.1056, 19.1303) ccw projected
  line L13 (67.0452, 18.0694) -> (31.9396, 53.158) projected
  line L14 (23.2826, 17.8214) -> (-1.0786, 42.1709) projected
  arc A15 (1.0422, 44.2927) -> (-1.0786, 42.1709) centre (-0.0182, 43.2318) ccw projected
  line L15 (1.0422, 44.2927) -> (25.4034, 19.9432) projected
  arc A16 (23.2826, 17.8214) -> (25.4034, 19.9432) centre (24.343, 18.8823) ccw projected
  line L16 (12.2813, 17.8201) -> (-1.0773, 31.1722) projected
  arc A17 (1.0435, 33.294) -> (-1.0773, 31.1722) centre (-0.0169, 32.2331) ccw projected
  line L17 (1.0435, 33.294) -> (14.4021, 19.9419) projected
  arc A18 (12.2813, 17.8201) -> (14.4021, 19.9419) centre (13.3417, 18.881) ccw projected
  arc A19 (67.2866, 28.8254) -> (69.4074, 30.9472) centre (68.347, 29.8863) ccw projected
  line L18 (67.2866, 28.8254) -> (42.9254, 53.1748) projected
  arc A20 (45.0462, 55.2967) -> (42.9254, 53.1748) centre (43.9858, 54.2358) ccw projected
  line L19 (45.0462, 55.2967) -> (69.4074, 30.9472) projected
  line L20 (34.2839, 17.8227) -> (-1.08, 53.1695) projected
  arc A21 (1.0408, 55.2914) -> (-1.08, 53.1695) centre (-0.0196, 54.2304) ccw projected
  line L21 (1.0408, 55.2914) -> (36.4047, 19.9446) projected
  arc A22 (34.2839, 17.8227) -> (36.4047, 19.9446) centre (35.3443, 18.8837) ccw projected
  line L22 (-83.5, -79.25) -> (75.25, -79.25) projected
  line L23 (75.25, -79.25) -> (75.25, 79.25) projected
  line L24 (75.25, 79.25) -> (-83.5, 79.25) projected
  line L25 (-83.5, 79.25) -> (-83.5, -79.25) projected
  line L26 (-63.5, 59.25) -> (-44.1, 59.25)
  line L27 (-44.1, 59.25) -> (-44.1, 46.75)
  line L28 (-44.1, 46.75) -> (-63.5, 46.75)
  line L29 (-63.5, 46.75) -> (-63.5, 59.25)
  point P0 (0, 0)
  dimension "d178" = 19.4
  dimension "d179" = 12.5
  dimension "d180" = 20
  dimension "d181" = 20
extrude "Vysunutí4" cut sketch "Náčrt6" against normal up to surface (2.8 mm away) contours L26 L27 L28 L29
sketch "Náčrt7" plane through (0, 0, 0) normal (0, 0, -1) x (-1, 0, 0)
  line L0 (0, -110.95) -> (0, 110.95) projected
  line L1 (-107, 0) -> (115.25, 0) projected
  line L2 (-50, 12.75) -> (-40, 12.75)
  line L3 (-40, 12.75) -> (-40, 5.75)
  line L4 (-40, 5.75) -> (-50, 5.75)
  line L5 (-50, 5.75) -> (-50, 12.75)
  line L6 (-50, -55.25) -> (-40, -55.25)
  line L7 (-40, -55.25) -> (-40, -62.25)
  line L8 (-40, -62.25) -> (-50, -62.25)
  line L9 (-50, -62.25) -> (-50, -55.25)
  line L10 (35, 12.75) -> (45, 12.75)
  line L11 (45, 12.75) -> (45, 5.75)
  line L12 (45, 5.75) -> (35, 5.75)
  line L13 (35, 5.75) -> (35, 12.75)
  line L14 (35, -55.25) -> (45, -55.25)
  line L15 (45, -55.25) -> (45, -62.25)
  line L16 (45, -62.25) -> (35, -62.25)
  line L17 (35, -62.25) -> (35, -55.25)
  line L18 (79.5, -75.25) -> (-28.6729, -75.25) projected
  point P0 (0, 0)
  point P1 (35, -58.75)
  dimension "d184" = 61
  dimension "d185" = 13
  dimension "d186" = 7
  dimension "d187" = 10
  dimension "d188" = 7
  dimension "d189" = 10
  dimension "d190" = 40
  dimension "d191" = 40
  dimension "d192" = 35
  dimension "d193" = 35
  dimension "d194" = 61
  dimension "d195" = 13
  dimension "d196" = 7
  dimension "d197" = 10
  dimension "d198" = 7
extrude "Vysunutí5" add sketch "Náčrt7" along normal blind 13.5
sketch "Náčrt8" plane through (0, 0, -13.5) normal (0, 0, -1) x (-1, 0, 0)
  line L0 (-50, 5.75) -> (-40, 5.75) projected
  line L1 (-40, 5.75) -> (-40, 12.75) projected
  line L2 (-40, 12.75) -> (-50, 12.75) projected
  line L3 (-50, 12.75) -> (-50, 5.75) projected
  line L4 (35, 5.75) -> (45, 5.75) projected
  line L5 (45, 5.75) -> (45, 12.75) projected
  line L6 (45, 12.75) -> (35, 12.75) projected
  line L7 (35, 12.75) -> (35, 5.75) projected
  line L8 (35, -62.25) -> (45, -62.25) projected
  line L9 (45, -62.25) -> (45, -55.25) projected
  line L10 (45, -55.25) -> (35, -55.25) projected
  line L11 (35, -55.25) -> (35, -62.25) projected
  line L12 (-50, -62.25) -> (-40, -62.25) projected
  line L13 (-40, -62.25) -> (-40, -55.25) projected
  line L14 (-40, -55.25) -> (-50, -55.25) projected
  line L15 (-50, -55.25) -> (-50, -62.25) projected
  point P0 (0, 0)
  point P1 (-45, 9.25)
  point P2 (40, 9.25)
  point P3 (40, -58.75)
  point P4 (-45, -58.75)
  point P5 (40, 5.75)
  dimension "d202" = 5
  dimension "d204" = 5
  dimension "d206" = 5
  dimension "d207" = 5
  dimension "d216" = 3.5
  dimension "d217" = 3.5
  dimension "d218" = 3.5
  dimension "d219" = 3.5
hole "Díra3" at (45, 9.25, -13.5) at (-40, 9.25, -13.5) at (-40, -58.75, -13.5) at (45, -58.75, -13.5) direction (0, 0, 1) diameter 2.1 depth 11 tip angle 118
equation "\"d49\" = d48"
equation "\"d50\" = d48"
equation "\"d51\" = d48"
equation "\"d53\" = d48"
equation "\"d54\" = d48"
equation "\"d55\" = d48"
equation "\"d56\" = d48"
equation "\"d57\" = d49"
properties part number "display_cover_part2_back_3D tisk"
